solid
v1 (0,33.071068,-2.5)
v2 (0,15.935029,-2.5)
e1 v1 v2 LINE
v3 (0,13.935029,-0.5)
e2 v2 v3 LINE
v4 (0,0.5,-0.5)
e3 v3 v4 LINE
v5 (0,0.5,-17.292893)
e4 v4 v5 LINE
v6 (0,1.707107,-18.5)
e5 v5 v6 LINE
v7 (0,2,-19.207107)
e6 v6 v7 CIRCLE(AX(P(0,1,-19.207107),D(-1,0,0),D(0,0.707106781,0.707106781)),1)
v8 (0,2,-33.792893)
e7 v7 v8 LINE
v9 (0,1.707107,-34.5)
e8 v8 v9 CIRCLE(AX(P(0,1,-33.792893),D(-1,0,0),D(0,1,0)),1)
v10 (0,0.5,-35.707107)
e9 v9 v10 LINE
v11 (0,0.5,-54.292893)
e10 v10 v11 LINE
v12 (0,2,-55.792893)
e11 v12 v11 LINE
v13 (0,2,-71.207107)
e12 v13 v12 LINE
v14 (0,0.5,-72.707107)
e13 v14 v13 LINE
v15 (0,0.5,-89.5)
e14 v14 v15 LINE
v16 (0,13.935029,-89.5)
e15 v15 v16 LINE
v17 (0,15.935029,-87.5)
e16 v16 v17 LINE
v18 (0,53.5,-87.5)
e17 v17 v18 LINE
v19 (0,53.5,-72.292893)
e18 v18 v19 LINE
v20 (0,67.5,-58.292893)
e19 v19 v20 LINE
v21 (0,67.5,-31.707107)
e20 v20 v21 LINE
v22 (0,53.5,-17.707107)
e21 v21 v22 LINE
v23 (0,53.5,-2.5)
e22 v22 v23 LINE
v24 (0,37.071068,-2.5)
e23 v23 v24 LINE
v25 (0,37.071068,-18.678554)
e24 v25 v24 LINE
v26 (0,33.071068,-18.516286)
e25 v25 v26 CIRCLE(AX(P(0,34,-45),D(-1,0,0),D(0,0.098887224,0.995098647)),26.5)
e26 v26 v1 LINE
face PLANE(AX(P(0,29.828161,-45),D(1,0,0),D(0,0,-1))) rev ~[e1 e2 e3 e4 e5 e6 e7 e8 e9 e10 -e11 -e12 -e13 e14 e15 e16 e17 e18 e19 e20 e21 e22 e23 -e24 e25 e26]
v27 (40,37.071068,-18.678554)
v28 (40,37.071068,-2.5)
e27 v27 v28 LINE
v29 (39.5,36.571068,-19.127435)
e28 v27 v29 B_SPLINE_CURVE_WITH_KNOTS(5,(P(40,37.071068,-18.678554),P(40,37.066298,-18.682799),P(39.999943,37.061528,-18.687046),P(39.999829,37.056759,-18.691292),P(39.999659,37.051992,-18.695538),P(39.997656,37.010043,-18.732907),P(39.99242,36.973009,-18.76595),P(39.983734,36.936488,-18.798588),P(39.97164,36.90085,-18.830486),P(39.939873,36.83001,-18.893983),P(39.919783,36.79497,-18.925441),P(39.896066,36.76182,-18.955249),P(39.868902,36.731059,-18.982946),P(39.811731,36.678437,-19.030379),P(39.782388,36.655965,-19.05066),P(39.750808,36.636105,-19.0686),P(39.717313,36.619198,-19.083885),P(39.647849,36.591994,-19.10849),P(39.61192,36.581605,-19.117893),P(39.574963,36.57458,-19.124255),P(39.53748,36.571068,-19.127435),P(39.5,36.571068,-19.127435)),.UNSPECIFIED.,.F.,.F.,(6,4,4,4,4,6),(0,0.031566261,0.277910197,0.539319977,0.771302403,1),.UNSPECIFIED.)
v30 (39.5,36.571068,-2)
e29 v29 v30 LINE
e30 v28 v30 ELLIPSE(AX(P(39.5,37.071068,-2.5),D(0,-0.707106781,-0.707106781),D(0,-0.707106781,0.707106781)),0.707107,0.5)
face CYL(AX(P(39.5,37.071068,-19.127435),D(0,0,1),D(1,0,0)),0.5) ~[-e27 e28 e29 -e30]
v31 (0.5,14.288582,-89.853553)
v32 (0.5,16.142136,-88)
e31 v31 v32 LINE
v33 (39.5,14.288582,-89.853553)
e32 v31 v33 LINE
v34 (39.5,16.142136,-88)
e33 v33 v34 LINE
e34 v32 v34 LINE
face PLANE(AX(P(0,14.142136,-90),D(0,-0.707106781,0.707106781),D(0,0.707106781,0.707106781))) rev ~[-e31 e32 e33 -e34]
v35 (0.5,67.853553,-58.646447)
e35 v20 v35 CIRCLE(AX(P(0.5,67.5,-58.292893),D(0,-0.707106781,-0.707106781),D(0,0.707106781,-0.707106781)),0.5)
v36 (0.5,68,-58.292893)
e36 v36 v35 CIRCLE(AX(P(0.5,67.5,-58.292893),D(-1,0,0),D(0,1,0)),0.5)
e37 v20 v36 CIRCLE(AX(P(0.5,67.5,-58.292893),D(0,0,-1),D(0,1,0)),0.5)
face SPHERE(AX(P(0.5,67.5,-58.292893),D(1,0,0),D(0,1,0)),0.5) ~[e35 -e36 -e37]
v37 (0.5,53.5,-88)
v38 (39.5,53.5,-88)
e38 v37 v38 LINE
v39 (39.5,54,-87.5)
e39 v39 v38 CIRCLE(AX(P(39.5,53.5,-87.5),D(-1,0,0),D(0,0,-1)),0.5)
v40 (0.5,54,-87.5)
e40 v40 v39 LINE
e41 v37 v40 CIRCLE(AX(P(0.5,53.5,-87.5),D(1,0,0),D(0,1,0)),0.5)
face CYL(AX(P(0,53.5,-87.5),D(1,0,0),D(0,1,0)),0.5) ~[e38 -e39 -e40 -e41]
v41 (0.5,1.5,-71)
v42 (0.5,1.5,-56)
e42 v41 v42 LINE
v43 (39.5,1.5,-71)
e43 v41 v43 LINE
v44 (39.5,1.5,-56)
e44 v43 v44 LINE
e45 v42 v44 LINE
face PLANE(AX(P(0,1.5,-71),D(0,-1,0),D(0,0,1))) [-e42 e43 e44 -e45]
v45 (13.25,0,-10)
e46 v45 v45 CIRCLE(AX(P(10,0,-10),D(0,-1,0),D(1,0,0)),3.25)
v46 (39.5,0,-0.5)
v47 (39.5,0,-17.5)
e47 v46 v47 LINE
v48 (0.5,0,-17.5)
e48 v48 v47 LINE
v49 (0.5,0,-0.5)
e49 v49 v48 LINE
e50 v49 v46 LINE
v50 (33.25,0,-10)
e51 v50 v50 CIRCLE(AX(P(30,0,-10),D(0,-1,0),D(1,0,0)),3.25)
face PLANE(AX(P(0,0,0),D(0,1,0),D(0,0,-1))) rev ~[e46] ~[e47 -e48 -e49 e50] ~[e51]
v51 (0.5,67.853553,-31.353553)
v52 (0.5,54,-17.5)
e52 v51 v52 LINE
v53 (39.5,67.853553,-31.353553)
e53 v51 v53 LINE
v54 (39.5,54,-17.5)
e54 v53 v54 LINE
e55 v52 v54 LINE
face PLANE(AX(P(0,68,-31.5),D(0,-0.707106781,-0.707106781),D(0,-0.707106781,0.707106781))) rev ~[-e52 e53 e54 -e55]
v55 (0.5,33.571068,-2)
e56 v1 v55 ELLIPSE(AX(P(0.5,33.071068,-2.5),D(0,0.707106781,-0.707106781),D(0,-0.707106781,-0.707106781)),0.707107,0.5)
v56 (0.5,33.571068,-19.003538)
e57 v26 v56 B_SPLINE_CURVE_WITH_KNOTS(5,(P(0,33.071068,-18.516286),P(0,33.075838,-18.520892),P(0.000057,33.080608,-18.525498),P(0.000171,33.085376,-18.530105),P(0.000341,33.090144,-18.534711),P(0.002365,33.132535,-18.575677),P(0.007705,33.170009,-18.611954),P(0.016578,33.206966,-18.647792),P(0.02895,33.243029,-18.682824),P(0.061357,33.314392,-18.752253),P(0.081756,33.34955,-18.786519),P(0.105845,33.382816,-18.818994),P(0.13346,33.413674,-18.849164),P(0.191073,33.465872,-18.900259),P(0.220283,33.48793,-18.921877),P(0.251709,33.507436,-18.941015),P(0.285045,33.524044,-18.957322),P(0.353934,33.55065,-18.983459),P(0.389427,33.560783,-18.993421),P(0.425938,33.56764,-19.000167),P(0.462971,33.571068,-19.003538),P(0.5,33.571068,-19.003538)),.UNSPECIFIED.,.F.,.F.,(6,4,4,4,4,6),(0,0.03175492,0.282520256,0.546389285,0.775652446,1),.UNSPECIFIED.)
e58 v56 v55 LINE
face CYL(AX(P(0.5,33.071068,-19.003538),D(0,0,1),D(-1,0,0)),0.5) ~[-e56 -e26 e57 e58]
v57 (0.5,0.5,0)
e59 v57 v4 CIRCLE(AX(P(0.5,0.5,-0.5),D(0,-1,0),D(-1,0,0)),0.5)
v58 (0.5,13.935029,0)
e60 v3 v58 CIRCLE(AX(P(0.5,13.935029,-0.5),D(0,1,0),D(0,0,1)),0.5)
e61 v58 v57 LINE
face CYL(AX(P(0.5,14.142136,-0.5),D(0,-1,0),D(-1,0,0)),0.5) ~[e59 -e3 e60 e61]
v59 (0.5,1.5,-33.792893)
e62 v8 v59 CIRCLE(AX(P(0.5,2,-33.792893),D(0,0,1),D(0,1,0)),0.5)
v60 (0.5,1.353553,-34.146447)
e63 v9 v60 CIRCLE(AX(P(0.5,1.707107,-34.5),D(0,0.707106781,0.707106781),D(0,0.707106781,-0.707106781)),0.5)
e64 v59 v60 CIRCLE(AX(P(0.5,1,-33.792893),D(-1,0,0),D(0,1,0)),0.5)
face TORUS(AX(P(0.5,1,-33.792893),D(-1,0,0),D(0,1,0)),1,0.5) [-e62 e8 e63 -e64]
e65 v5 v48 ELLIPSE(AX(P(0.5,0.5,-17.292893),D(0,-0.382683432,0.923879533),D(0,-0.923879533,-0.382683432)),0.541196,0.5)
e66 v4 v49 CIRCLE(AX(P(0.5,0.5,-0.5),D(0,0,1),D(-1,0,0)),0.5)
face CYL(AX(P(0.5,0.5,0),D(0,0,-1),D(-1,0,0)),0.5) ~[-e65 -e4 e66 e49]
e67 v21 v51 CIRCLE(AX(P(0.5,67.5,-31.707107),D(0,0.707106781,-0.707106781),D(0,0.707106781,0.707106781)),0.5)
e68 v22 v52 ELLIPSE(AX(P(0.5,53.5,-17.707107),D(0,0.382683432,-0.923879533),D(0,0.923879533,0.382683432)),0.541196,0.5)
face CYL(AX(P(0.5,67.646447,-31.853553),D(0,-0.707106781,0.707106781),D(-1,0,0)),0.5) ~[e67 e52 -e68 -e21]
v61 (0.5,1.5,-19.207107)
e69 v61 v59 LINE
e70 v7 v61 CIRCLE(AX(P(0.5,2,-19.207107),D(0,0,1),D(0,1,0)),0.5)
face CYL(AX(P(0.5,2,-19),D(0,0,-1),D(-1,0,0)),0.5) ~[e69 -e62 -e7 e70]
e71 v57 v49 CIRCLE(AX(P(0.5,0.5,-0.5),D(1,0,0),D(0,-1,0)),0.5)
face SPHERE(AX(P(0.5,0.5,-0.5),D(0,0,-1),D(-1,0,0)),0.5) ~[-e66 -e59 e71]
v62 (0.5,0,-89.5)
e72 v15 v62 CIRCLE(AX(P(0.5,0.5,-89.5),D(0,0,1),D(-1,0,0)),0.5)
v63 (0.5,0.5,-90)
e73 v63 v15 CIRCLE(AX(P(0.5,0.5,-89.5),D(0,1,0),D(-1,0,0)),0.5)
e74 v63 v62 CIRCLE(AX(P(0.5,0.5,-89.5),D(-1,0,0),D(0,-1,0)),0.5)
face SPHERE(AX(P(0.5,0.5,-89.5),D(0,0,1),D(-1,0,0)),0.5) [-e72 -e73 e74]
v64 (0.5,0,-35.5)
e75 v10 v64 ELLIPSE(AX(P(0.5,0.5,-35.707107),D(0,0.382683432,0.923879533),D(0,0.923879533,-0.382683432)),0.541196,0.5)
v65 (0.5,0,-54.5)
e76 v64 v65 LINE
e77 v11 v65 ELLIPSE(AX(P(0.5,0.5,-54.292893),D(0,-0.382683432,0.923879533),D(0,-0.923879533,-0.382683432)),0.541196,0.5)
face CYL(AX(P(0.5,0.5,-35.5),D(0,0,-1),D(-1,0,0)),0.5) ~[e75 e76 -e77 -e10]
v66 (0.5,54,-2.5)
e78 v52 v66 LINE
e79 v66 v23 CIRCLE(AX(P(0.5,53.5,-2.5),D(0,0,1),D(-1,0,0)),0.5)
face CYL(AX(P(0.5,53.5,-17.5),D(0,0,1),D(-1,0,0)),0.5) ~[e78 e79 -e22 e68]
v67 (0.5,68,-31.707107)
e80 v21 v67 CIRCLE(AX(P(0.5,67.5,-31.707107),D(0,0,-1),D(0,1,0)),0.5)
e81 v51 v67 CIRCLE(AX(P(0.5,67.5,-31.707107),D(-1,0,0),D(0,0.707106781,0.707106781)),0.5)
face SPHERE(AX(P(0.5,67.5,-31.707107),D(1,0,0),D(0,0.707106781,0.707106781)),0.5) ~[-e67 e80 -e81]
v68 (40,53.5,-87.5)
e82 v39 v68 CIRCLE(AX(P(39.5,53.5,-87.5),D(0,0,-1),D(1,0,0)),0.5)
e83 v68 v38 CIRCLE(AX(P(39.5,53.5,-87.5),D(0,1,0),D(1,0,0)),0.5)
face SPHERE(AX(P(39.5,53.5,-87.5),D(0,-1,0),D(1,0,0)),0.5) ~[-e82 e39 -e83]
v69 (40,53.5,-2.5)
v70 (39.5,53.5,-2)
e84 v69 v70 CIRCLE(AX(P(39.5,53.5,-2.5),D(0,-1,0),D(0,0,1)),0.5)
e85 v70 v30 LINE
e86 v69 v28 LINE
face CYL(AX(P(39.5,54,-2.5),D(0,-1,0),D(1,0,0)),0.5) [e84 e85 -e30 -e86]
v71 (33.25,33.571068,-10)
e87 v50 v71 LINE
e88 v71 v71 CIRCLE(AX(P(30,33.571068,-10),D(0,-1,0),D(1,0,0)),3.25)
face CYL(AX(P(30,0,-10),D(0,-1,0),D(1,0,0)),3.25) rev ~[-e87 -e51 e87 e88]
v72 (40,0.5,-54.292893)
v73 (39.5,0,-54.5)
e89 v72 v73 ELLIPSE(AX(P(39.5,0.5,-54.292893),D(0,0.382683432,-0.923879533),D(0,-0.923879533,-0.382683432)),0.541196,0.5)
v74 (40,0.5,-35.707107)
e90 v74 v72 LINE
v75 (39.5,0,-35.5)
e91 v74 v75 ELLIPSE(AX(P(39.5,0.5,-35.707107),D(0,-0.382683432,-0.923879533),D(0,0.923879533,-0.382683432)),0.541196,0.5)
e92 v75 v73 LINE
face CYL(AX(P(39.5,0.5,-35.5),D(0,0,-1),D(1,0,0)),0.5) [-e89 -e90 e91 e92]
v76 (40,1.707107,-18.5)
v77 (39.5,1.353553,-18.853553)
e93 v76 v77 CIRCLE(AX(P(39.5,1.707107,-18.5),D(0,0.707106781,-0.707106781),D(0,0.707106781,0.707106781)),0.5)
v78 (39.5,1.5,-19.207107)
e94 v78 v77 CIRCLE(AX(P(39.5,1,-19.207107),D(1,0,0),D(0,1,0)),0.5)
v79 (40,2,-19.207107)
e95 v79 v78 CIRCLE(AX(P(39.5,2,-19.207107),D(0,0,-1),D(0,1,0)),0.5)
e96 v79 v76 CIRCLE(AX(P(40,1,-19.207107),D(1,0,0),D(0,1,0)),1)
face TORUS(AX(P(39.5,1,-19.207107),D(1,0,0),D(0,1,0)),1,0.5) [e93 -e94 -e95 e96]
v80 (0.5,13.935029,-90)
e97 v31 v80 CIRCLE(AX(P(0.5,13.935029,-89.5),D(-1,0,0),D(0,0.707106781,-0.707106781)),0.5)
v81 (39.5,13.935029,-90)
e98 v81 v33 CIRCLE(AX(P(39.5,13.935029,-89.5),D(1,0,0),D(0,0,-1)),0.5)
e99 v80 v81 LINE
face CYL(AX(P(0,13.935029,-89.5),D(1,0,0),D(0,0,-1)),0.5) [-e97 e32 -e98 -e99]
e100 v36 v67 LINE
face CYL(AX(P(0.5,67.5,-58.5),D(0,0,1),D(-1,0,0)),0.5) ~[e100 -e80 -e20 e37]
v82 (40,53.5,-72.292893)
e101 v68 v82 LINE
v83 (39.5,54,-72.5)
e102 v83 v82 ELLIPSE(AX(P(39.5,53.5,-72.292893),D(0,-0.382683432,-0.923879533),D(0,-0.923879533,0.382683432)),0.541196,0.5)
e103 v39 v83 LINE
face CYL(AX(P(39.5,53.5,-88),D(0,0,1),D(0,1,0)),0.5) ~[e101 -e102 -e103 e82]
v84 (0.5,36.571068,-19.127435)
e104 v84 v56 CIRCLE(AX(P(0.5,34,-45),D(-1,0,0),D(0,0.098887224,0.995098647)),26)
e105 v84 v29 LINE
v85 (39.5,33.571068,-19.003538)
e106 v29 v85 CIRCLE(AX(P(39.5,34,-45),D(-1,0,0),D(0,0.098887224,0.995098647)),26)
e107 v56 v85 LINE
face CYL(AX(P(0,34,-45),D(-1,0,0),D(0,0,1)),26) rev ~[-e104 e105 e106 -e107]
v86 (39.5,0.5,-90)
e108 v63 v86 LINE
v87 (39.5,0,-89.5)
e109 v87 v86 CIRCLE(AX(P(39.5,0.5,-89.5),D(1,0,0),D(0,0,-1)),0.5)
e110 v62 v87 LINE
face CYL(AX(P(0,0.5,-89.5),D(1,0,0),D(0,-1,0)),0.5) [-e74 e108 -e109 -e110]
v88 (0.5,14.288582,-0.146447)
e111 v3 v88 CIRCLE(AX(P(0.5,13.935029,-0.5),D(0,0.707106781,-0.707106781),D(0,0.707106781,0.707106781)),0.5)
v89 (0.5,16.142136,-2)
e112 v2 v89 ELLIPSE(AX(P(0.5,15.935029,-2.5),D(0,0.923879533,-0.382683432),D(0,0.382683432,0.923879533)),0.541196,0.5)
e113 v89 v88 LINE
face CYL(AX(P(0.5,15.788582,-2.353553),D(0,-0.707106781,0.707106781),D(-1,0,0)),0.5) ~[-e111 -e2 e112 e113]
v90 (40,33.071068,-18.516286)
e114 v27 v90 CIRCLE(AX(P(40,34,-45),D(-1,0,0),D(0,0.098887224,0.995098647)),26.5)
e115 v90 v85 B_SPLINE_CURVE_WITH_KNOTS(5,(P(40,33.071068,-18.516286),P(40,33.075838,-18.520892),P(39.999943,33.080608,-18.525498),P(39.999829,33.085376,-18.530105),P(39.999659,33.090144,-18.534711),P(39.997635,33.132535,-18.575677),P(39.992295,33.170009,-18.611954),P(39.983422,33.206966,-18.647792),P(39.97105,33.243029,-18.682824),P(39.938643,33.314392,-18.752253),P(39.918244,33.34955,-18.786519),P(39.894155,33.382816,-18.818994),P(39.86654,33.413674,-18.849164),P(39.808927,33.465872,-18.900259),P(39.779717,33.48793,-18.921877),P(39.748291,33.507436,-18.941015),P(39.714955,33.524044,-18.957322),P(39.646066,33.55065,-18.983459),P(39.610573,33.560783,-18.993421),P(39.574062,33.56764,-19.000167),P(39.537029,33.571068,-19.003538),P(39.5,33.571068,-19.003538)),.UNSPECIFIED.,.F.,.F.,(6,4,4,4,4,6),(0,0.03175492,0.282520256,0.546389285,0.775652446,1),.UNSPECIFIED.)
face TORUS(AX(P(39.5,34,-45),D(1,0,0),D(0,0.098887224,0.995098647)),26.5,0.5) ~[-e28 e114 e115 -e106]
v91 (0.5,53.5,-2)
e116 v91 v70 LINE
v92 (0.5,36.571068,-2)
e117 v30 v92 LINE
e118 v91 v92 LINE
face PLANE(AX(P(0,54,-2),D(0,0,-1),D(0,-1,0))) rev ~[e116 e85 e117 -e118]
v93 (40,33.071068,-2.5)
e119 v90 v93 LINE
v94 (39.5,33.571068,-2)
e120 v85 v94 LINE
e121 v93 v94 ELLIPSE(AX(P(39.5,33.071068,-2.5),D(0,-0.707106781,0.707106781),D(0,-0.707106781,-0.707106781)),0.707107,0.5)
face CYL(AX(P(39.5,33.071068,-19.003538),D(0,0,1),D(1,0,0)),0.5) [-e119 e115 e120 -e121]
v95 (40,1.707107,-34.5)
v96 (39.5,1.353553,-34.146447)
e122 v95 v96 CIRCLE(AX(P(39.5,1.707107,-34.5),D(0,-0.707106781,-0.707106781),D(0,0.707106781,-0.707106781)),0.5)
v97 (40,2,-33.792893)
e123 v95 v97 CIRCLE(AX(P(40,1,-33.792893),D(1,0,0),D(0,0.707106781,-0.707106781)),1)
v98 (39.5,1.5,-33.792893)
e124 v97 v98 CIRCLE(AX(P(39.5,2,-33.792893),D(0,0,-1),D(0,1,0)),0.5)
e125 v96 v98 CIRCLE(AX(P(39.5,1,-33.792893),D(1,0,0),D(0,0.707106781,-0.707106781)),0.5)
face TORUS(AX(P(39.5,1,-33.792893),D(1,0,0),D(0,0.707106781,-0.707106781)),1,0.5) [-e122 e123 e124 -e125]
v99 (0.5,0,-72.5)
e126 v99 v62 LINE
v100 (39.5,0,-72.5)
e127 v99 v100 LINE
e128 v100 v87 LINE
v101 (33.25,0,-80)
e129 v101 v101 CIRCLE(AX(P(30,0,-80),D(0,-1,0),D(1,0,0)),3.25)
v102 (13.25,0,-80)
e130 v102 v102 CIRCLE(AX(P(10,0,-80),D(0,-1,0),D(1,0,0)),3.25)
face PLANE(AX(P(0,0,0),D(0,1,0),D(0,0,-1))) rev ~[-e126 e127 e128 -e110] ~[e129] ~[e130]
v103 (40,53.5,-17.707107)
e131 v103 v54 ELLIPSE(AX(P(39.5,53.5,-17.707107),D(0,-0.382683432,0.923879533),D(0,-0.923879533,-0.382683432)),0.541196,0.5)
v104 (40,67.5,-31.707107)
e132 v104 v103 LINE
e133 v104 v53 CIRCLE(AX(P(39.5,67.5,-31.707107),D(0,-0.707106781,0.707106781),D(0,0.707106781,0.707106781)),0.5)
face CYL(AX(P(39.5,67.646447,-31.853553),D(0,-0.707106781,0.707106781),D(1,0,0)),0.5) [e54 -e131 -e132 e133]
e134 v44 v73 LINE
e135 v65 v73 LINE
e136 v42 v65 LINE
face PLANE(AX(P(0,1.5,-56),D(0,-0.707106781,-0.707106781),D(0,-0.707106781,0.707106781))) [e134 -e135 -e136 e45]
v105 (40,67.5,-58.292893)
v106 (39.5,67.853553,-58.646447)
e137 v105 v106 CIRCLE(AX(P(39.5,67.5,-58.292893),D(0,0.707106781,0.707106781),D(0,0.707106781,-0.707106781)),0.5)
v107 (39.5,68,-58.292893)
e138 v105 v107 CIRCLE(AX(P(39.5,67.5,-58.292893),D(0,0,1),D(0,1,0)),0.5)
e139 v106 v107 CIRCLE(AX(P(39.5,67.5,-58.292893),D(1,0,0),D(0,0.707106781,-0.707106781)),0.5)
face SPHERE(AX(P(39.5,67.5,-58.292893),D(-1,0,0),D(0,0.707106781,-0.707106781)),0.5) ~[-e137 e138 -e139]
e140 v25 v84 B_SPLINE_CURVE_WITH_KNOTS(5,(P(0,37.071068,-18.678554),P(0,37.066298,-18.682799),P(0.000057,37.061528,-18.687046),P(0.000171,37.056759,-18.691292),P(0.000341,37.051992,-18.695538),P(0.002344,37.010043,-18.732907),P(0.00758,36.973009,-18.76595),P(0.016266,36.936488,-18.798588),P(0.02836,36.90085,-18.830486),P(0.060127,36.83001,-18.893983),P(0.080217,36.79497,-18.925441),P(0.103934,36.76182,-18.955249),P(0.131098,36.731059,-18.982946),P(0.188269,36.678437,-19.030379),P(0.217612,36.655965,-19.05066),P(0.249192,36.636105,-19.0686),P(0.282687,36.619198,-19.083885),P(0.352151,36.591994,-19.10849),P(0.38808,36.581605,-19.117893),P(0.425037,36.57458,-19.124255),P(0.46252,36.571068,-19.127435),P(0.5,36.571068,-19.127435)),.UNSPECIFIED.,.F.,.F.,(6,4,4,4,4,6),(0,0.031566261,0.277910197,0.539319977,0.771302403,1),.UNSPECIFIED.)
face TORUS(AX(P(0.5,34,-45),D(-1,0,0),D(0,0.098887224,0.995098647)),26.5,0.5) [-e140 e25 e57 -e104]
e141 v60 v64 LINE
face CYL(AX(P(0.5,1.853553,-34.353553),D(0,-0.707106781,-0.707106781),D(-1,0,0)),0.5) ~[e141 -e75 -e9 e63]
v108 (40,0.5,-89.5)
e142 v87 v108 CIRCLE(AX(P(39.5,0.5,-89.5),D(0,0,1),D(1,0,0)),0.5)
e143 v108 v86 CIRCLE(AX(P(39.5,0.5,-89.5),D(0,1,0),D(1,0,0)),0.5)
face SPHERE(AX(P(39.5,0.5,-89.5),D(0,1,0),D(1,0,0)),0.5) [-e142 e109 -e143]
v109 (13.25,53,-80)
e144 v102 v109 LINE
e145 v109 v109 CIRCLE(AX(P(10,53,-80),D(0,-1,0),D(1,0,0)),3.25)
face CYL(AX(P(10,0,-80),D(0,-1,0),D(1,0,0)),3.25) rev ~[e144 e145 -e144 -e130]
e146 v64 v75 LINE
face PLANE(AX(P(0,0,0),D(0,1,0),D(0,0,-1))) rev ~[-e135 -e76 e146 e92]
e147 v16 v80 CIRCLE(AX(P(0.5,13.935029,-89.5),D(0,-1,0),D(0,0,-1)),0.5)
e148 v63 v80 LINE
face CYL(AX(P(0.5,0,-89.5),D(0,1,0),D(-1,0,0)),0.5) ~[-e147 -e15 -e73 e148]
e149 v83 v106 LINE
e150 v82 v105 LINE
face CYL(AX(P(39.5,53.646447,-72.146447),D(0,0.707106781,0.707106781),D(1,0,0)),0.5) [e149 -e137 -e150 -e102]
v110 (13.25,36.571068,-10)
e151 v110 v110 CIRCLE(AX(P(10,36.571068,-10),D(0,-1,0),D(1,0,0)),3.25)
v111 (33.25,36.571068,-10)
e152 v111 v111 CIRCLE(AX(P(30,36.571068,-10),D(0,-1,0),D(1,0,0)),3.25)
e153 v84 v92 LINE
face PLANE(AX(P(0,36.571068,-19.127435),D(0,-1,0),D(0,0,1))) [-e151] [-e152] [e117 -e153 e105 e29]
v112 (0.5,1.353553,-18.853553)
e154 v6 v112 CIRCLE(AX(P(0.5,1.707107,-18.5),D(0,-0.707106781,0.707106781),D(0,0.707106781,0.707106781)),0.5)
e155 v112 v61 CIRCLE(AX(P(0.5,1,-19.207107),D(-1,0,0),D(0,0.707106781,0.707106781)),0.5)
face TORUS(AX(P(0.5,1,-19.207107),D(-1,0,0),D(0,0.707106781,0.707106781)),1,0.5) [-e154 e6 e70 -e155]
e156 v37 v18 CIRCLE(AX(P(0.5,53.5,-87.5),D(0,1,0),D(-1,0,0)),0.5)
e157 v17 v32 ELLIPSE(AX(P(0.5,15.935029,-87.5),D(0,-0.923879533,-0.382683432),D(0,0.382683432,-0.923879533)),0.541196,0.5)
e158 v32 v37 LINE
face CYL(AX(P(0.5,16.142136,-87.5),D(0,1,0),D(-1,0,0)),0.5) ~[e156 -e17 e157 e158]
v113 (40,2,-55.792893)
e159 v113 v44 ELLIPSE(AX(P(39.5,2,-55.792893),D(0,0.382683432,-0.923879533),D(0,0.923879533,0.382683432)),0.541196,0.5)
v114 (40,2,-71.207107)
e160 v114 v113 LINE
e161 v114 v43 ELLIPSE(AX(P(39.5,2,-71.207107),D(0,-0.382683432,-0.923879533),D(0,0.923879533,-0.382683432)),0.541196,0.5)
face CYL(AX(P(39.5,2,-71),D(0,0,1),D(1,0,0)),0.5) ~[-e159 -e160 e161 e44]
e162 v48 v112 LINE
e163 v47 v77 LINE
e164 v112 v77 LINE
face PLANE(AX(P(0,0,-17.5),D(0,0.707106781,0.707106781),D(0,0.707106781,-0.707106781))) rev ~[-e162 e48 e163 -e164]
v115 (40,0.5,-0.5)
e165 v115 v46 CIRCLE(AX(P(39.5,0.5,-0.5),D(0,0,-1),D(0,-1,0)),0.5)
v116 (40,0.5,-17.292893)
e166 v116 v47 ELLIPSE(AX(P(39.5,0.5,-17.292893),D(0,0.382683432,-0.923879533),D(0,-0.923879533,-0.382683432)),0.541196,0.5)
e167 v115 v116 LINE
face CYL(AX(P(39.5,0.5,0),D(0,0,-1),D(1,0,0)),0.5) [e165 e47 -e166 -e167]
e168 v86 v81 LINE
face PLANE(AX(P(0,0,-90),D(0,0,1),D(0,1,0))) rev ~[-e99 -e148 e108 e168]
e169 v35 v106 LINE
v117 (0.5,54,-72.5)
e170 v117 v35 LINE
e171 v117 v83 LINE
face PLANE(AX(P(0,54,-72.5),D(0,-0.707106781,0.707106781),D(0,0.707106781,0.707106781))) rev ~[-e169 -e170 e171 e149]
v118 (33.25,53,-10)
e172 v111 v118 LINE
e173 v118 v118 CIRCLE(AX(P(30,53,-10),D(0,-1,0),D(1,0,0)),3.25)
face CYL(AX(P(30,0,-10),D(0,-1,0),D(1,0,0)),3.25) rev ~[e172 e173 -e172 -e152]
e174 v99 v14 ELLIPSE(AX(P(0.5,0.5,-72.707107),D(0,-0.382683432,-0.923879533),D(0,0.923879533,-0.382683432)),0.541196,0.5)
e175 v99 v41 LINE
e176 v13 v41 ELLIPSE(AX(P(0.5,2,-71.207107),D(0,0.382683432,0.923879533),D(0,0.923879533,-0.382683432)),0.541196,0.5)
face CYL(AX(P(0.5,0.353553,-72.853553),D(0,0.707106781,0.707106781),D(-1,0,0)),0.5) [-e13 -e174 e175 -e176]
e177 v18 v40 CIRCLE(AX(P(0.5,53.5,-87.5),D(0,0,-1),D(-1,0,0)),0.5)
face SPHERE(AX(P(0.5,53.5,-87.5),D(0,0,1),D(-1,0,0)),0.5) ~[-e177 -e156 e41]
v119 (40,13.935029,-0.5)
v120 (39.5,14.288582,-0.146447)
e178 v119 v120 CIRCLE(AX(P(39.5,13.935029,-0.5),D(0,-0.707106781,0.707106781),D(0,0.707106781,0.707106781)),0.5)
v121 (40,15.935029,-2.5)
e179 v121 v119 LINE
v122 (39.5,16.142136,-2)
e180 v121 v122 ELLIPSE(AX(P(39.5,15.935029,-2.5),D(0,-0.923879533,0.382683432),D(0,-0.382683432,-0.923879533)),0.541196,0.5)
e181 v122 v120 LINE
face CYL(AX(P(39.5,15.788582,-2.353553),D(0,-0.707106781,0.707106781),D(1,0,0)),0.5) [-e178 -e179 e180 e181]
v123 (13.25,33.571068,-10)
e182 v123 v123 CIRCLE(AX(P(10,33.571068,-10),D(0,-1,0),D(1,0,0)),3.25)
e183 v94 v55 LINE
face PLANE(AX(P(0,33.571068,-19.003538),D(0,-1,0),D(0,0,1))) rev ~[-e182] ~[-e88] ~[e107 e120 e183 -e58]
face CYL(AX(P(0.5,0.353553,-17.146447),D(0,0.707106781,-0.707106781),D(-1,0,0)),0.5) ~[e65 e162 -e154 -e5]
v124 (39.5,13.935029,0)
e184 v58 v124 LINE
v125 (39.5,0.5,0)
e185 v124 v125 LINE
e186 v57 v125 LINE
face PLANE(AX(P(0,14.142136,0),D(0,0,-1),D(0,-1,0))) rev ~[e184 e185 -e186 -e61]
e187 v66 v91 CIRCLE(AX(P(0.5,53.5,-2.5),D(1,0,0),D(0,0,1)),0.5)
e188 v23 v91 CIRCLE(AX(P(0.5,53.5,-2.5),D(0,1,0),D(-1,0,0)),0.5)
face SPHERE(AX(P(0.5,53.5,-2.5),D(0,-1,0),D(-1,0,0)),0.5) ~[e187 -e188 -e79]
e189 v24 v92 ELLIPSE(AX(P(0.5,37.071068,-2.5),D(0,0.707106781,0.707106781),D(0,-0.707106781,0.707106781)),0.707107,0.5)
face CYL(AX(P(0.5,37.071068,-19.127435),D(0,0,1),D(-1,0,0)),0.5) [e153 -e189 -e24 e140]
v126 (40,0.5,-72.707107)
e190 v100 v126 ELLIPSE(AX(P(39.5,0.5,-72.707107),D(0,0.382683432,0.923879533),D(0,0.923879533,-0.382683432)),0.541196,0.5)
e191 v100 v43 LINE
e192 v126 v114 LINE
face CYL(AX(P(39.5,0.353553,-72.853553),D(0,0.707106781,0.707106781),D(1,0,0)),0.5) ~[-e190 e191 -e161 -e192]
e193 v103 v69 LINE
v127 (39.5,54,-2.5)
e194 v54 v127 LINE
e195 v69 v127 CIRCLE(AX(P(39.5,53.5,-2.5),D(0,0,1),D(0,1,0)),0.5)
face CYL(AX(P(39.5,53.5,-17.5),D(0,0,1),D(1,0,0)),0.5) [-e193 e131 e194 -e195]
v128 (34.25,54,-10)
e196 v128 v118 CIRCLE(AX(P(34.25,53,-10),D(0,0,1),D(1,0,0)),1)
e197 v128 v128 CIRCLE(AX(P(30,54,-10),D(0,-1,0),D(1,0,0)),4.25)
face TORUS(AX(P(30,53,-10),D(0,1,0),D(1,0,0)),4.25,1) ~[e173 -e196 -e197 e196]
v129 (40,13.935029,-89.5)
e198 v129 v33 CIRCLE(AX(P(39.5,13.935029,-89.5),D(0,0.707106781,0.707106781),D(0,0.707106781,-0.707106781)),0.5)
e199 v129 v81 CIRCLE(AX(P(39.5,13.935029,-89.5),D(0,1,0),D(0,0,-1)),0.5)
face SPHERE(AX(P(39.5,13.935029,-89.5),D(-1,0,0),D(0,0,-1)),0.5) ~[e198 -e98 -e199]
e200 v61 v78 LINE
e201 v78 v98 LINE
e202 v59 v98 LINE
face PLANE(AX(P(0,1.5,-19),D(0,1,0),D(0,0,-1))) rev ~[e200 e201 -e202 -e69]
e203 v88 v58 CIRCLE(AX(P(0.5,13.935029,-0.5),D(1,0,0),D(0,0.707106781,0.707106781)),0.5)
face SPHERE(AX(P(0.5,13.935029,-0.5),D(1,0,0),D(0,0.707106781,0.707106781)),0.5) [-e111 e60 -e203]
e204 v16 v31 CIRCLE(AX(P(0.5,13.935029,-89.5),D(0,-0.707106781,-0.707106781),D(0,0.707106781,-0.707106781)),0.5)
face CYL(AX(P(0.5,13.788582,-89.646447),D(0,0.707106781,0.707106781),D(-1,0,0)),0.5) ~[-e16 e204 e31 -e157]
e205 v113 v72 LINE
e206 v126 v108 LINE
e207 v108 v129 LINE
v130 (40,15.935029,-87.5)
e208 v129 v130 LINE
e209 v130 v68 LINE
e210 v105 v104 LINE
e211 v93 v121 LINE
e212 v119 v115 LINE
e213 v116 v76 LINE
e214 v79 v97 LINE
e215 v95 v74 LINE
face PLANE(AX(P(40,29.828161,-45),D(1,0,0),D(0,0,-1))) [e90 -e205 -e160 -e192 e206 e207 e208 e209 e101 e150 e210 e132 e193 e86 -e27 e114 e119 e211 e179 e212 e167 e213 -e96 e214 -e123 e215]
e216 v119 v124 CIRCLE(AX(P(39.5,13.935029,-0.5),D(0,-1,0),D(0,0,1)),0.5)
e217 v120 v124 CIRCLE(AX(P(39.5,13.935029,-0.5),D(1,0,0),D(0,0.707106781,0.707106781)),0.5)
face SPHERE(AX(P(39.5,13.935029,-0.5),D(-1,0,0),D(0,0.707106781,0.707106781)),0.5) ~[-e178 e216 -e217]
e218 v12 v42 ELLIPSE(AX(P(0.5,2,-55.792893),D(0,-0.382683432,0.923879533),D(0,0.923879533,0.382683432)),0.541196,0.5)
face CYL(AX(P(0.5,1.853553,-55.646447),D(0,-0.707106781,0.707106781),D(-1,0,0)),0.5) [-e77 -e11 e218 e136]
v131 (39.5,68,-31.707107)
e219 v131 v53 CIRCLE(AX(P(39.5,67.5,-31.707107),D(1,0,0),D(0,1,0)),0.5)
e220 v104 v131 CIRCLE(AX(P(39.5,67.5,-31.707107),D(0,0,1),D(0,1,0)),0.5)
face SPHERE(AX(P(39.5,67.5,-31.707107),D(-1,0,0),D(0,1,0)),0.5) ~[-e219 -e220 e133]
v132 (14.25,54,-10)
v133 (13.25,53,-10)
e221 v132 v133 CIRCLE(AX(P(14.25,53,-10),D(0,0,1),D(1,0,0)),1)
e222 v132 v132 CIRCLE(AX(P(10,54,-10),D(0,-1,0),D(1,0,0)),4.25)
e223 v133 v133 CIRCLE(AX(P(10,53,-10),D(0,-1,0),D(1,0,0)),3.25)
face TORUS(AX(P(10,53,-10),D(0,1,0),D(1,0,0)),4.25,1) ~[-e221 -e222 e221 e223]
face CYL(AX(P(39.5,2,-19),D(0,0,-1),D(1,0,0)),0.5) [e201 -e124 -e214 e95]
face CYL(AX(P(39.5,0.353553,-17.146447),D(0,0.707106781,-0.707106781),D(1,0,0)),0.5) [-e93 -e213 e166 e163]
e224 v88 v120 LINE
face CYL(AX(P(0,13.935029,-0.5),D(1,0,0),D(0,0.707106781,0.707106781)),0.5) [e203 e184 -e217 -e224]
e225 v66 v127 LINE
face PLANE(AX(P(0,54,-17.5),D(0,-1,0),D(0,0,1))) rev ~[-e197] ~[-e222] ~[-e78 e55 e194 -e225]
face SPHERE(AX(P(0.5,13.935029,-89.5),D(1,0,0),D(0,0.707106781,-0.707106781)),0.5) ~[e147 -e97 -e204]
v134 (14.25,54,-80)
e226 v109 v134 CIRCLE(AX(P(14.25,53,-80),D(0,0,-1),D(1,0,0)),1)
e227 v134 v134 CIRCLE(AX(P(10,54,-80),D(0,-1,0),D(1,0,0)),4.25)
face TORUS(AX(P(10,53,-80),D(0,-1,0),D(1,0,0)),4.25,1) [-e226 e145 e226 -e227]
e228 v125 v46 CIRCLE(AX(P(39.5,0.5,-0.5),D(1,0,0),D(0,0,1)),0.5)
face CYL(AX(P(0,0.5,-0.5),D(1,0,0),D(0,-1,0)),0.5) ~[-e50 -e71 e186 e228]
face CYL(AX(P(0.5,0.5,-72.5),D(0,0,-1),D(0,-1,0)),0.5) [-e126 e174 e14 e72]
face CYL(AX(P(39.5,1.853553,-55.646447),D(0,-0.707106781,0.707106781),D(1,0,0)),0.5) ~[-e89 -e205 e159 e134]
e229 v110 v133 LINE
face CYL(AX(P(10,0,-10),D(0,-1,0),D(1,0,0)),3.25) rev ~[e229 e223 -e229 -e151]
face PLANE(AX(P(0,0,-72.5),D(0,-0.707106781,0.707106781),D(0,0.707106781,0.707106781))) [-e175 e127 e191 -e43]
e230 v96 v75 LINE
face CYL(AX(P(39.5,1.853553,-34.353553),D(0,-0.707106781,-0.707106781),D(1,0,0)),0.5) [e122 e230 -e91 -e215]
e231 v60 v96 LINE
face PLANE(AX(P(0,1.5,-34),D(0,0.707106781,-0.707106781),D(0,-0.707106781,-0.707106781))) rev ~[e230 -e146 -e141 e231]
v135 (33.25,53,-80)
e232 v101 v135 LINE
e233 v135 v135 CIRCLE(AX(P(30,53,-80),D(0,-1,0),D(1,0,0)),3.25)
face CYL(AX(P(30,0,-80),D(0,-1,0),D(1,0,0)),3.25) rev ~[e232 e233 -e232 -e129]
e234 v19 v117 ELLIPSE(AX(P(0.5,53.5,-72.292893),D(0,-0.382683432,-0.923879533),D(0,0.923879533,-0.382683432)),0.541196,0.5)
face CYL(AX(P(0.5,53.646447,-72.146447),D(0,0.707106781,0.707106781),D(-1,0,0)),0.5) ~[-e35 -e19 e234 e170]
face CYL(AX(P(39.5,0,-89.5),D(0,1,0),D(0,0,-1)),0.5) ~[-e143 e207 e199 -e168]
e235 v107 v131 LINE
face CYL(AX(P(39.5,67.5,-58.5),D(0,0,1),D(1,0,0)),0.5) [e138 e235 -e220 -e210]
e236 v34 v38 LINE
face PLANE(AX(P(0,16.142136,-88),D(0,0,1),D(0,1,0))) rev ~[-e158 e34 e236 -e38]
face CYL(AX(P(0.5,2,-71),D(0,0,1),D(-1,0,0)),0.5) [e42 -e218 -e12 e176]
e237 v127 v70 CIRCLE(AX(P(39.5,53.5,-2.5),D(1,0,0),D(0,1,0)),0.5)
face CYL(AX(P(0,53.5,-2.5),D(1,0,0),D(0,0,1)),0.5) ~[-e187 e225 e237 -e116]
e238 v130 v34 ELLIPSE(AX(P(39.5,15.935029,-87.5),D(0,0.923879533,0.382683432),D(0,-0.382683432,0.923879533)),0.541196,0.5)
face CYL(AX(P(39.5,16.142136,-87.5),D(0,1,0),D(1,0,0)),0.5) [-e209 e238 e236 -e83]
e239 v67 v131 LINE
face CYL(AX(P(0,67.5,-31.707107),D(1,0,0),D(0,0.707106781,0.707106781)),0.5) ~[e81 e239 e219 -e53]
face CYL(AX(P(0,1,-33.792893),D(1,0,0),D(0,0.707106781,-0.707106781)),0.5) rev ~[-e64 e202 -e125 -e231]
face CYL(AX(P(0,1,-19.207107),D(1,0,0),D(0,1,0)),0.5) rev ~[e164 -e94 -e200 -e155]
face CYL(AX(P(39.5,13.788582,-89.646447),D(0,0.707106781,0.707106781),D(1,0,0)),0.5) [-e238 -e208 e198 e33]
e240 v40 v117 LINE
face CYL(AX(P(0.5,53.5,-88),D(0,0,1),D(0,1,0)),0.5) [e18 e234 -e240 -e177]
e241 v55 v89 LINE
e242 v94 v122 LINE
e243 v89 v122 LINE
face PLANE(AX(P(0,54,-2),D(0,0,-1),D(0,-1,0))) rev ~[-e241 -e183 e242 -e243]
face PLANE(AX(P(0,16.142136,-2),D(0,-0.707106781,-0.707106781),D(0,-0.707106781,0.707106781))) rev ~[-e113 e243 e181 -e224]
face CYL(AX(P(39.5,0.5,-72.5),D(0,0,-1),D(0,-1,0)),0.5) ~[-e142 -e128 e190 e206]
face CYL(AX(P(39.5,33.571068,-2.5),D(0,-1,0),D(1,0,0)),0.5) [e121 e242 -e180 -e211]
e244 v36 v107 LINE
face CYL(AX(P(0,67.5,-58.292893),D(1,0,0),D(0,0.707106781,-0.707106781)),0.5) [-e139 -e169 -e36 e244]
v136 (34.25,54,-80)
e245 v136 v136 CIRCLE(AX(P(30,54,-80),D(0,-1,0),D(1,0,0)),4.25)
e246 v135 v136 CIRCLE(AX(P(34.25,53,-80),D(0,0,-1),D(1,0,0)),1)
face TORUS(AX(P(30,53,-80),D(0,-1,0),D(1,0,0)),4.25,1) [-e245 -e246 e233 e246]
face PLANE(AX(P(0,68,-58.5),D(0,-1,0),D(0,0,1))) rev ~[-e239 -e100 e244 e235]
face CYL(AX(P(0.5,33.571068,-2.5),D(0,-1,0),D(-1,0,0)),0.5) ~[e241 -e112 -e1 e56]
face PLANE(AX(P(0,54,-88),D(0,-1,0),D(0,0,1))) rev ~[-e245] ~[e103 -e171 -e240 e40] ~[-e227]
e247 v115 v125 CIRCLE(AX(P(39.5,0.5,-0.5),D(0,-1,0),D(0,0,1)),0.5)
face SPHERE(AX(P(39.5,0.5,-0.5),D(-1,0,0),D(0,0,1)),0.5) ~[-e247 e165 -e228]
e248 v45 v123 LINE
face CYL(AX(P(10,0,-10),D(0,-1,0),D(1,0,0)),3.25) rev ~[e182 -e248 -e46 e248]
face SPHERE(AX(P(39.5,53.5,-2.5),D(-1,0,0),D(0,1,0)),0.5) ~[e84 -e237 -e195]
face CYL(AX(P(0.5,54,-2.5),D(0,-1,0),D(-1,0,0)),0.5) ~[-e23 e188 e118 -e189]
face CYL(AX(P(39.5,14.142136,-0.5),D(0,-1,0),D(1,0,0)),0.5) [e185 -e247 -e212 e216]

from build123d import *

# Parameters (mm, degrees)
EXTRUDE_1_DEPTH     = 40
SKETCH_3_R          = 26
SKETCH_3_W          = 34.254870362
SKETCH_3_H          = 3
CUT_EXTRUDE_1_DEPTH = 40
SKETCH_5_R          = 3.25
CUT_EXTRUDE_2_DEPTH = 69
FILLET_1_R          = 1
CUT_EXTRUDE_3_DEPTH = 40
FILLET_2_R          = 0.5


with BuildPart() as part:
    # Эскиз1 → Бобышка-Вытянуть1 (new body)
    with BuildSketch(Plane(origin=(0, 0, 0), x_dir=(0, 0, -1), z_dir=(1, 0, 0))):
        Polygon((0, 0), (90, 0), (90, 14.142135624), (88, 16.142135624), (88, 54), (72.5, 54), (58.5, 68), (31.5, 68), (17.5, 54), (2, 54), (2, 16.142135624), (0, 14.142135624), align=None)
    extrude(amount=EXTRUDE_1_DEPTH)

    # Эскиз3 → Вырез-Вытянуть1 (cut)
    with BuildSketch(Plane.ZY):
        with Locations((-45, 34)):
            Circle(SKETCH_3_R)
        with Locations((-2, 35.071067812)):
            Rectangle(SKETCH_3_W, SKETCH_3_H)
    extrude(amount=-CUT_EXTRUDE_1_DEPTH, mode=Mode.SUBTRACT)

    # Эскиз5 → Вырез-Вытянуть2 (cut, through all)
    with BuildSketch(Plane.XZ):
        with Locations((10, -10)):
            Circle(SKETCH_5_R)
        with Locations((30, -10)):
            Circle(SKETCH_5_R)
        with Locations((10, -80)):
            Circle(SKETCH_5_R)
        with Locations((30, -80)):
            Circle(SKETCH_5_R)
    extrude(amount=-CUT_EXTRUDE_2_DEPTH, mode=Mode.SUBTRACT)

    # Скругление1
    fillet_1_edges = [part.edges().sort_by_distance(p)[0] for p in [
        (6.75, 54, -10),
        (26.75, 54, -10),
        (6.75, 54, -80),
        (26.75, 54, -80),
    ]]
    fillet(fillet_1_edges, radius=FILLET_1_R)

    # Эскиз6 → Вырез-Вытянуть3 (cut)
    with BuildSketch(Plane.ZY):
        Polygon((-19, 1.5), (-34, 1.5), (-35.5, 0), (-17.5, 0), align=None)
        Polygon((-71, 1.5), (-56, 1.5), (-54.5, 0), (-72.5, 0), align=None)
    extrude(amount=-CUT_EXTRUDE_3_DEPTH, mode=Mode.SUBTRACT)

    # Скругление2
    fillet_2_edges = [part.edges().sort_by_distance(p)[0] for p in [
        (40, 7.071067812, -90),
        (0, 0, -81.25),
        (40, 0, -81.25),
        (0, 15.142135624, -1),
        (0, 0.75, -71.75),
        (0, 1.5, -63.5),
        (0, 0.75, -55.25),
        (40, 0.75, -71.75),
        (0, 45.285533906, -2),
        (40, 1.5, -63.5),
        (40, 0.75, -55.25),
        (0, 54, -9.75),
        (0, 61, -24.5),
        (0, 68, -45),
        (0, 61, -65.5),
        (40, 15.142135624, -89),
        (0, 54, -80.25),
        (0, 35.071067812, -88),
        (0, 15.142135624, -89),
        (0, 7.071067812, -90),
        (0, 0, -8.75),
        (0, 7.071067812, 0),
        (40, 35.071067812, -88),
        (40, 54, -80.25),
        (20, 14.142135624, 0),
        (20, 54, -2),
        (20, 68, -31.5),
        (20, 68, -58.5),
        (20, 54, -88),
        (20, 14.142135624, -90),
        (20, 0, -90),
        (20, 0, 0),
        (40, 61, -65.5),
        (40, 68, -45),
        (40, 61, -24.5),
        (40, 54, -9.75),
        (0, 24.856601718, -2),
        (0, 36.571067812, -10.563717591),
        (40, 45.285533906, -2),
        (0, 33.571067812, -10.501769186),
        (40, 24.856601718, -2),
        (40, 15.142135624, -1),
        (0, 32.927142198, -70.977855495),
        (40, 33.571067812, -10.501769186),
        (40, 36.571067812, -10.563717591),
        (40, 7.071067812, 0),
        (40, 32.927142198, -70.977855495),
        (40, 0, -8.75),
        (0, 0, -45),
        (40, 0, -45),
        (40, 0.75, -34.75),
        (40, 1.5, -26.5),
        (20, 1.5, -34),
        (40, 0.75, -18.25),
        (20, 1.5, -19),
        (0, 0.75, -18.25),
        (0, 1.5, -26.5),
        (0, 0.75, -34.75),
    ]]
    fillet(fillet_2_edges, radius=FILLET_2_R)


solid = part.part
